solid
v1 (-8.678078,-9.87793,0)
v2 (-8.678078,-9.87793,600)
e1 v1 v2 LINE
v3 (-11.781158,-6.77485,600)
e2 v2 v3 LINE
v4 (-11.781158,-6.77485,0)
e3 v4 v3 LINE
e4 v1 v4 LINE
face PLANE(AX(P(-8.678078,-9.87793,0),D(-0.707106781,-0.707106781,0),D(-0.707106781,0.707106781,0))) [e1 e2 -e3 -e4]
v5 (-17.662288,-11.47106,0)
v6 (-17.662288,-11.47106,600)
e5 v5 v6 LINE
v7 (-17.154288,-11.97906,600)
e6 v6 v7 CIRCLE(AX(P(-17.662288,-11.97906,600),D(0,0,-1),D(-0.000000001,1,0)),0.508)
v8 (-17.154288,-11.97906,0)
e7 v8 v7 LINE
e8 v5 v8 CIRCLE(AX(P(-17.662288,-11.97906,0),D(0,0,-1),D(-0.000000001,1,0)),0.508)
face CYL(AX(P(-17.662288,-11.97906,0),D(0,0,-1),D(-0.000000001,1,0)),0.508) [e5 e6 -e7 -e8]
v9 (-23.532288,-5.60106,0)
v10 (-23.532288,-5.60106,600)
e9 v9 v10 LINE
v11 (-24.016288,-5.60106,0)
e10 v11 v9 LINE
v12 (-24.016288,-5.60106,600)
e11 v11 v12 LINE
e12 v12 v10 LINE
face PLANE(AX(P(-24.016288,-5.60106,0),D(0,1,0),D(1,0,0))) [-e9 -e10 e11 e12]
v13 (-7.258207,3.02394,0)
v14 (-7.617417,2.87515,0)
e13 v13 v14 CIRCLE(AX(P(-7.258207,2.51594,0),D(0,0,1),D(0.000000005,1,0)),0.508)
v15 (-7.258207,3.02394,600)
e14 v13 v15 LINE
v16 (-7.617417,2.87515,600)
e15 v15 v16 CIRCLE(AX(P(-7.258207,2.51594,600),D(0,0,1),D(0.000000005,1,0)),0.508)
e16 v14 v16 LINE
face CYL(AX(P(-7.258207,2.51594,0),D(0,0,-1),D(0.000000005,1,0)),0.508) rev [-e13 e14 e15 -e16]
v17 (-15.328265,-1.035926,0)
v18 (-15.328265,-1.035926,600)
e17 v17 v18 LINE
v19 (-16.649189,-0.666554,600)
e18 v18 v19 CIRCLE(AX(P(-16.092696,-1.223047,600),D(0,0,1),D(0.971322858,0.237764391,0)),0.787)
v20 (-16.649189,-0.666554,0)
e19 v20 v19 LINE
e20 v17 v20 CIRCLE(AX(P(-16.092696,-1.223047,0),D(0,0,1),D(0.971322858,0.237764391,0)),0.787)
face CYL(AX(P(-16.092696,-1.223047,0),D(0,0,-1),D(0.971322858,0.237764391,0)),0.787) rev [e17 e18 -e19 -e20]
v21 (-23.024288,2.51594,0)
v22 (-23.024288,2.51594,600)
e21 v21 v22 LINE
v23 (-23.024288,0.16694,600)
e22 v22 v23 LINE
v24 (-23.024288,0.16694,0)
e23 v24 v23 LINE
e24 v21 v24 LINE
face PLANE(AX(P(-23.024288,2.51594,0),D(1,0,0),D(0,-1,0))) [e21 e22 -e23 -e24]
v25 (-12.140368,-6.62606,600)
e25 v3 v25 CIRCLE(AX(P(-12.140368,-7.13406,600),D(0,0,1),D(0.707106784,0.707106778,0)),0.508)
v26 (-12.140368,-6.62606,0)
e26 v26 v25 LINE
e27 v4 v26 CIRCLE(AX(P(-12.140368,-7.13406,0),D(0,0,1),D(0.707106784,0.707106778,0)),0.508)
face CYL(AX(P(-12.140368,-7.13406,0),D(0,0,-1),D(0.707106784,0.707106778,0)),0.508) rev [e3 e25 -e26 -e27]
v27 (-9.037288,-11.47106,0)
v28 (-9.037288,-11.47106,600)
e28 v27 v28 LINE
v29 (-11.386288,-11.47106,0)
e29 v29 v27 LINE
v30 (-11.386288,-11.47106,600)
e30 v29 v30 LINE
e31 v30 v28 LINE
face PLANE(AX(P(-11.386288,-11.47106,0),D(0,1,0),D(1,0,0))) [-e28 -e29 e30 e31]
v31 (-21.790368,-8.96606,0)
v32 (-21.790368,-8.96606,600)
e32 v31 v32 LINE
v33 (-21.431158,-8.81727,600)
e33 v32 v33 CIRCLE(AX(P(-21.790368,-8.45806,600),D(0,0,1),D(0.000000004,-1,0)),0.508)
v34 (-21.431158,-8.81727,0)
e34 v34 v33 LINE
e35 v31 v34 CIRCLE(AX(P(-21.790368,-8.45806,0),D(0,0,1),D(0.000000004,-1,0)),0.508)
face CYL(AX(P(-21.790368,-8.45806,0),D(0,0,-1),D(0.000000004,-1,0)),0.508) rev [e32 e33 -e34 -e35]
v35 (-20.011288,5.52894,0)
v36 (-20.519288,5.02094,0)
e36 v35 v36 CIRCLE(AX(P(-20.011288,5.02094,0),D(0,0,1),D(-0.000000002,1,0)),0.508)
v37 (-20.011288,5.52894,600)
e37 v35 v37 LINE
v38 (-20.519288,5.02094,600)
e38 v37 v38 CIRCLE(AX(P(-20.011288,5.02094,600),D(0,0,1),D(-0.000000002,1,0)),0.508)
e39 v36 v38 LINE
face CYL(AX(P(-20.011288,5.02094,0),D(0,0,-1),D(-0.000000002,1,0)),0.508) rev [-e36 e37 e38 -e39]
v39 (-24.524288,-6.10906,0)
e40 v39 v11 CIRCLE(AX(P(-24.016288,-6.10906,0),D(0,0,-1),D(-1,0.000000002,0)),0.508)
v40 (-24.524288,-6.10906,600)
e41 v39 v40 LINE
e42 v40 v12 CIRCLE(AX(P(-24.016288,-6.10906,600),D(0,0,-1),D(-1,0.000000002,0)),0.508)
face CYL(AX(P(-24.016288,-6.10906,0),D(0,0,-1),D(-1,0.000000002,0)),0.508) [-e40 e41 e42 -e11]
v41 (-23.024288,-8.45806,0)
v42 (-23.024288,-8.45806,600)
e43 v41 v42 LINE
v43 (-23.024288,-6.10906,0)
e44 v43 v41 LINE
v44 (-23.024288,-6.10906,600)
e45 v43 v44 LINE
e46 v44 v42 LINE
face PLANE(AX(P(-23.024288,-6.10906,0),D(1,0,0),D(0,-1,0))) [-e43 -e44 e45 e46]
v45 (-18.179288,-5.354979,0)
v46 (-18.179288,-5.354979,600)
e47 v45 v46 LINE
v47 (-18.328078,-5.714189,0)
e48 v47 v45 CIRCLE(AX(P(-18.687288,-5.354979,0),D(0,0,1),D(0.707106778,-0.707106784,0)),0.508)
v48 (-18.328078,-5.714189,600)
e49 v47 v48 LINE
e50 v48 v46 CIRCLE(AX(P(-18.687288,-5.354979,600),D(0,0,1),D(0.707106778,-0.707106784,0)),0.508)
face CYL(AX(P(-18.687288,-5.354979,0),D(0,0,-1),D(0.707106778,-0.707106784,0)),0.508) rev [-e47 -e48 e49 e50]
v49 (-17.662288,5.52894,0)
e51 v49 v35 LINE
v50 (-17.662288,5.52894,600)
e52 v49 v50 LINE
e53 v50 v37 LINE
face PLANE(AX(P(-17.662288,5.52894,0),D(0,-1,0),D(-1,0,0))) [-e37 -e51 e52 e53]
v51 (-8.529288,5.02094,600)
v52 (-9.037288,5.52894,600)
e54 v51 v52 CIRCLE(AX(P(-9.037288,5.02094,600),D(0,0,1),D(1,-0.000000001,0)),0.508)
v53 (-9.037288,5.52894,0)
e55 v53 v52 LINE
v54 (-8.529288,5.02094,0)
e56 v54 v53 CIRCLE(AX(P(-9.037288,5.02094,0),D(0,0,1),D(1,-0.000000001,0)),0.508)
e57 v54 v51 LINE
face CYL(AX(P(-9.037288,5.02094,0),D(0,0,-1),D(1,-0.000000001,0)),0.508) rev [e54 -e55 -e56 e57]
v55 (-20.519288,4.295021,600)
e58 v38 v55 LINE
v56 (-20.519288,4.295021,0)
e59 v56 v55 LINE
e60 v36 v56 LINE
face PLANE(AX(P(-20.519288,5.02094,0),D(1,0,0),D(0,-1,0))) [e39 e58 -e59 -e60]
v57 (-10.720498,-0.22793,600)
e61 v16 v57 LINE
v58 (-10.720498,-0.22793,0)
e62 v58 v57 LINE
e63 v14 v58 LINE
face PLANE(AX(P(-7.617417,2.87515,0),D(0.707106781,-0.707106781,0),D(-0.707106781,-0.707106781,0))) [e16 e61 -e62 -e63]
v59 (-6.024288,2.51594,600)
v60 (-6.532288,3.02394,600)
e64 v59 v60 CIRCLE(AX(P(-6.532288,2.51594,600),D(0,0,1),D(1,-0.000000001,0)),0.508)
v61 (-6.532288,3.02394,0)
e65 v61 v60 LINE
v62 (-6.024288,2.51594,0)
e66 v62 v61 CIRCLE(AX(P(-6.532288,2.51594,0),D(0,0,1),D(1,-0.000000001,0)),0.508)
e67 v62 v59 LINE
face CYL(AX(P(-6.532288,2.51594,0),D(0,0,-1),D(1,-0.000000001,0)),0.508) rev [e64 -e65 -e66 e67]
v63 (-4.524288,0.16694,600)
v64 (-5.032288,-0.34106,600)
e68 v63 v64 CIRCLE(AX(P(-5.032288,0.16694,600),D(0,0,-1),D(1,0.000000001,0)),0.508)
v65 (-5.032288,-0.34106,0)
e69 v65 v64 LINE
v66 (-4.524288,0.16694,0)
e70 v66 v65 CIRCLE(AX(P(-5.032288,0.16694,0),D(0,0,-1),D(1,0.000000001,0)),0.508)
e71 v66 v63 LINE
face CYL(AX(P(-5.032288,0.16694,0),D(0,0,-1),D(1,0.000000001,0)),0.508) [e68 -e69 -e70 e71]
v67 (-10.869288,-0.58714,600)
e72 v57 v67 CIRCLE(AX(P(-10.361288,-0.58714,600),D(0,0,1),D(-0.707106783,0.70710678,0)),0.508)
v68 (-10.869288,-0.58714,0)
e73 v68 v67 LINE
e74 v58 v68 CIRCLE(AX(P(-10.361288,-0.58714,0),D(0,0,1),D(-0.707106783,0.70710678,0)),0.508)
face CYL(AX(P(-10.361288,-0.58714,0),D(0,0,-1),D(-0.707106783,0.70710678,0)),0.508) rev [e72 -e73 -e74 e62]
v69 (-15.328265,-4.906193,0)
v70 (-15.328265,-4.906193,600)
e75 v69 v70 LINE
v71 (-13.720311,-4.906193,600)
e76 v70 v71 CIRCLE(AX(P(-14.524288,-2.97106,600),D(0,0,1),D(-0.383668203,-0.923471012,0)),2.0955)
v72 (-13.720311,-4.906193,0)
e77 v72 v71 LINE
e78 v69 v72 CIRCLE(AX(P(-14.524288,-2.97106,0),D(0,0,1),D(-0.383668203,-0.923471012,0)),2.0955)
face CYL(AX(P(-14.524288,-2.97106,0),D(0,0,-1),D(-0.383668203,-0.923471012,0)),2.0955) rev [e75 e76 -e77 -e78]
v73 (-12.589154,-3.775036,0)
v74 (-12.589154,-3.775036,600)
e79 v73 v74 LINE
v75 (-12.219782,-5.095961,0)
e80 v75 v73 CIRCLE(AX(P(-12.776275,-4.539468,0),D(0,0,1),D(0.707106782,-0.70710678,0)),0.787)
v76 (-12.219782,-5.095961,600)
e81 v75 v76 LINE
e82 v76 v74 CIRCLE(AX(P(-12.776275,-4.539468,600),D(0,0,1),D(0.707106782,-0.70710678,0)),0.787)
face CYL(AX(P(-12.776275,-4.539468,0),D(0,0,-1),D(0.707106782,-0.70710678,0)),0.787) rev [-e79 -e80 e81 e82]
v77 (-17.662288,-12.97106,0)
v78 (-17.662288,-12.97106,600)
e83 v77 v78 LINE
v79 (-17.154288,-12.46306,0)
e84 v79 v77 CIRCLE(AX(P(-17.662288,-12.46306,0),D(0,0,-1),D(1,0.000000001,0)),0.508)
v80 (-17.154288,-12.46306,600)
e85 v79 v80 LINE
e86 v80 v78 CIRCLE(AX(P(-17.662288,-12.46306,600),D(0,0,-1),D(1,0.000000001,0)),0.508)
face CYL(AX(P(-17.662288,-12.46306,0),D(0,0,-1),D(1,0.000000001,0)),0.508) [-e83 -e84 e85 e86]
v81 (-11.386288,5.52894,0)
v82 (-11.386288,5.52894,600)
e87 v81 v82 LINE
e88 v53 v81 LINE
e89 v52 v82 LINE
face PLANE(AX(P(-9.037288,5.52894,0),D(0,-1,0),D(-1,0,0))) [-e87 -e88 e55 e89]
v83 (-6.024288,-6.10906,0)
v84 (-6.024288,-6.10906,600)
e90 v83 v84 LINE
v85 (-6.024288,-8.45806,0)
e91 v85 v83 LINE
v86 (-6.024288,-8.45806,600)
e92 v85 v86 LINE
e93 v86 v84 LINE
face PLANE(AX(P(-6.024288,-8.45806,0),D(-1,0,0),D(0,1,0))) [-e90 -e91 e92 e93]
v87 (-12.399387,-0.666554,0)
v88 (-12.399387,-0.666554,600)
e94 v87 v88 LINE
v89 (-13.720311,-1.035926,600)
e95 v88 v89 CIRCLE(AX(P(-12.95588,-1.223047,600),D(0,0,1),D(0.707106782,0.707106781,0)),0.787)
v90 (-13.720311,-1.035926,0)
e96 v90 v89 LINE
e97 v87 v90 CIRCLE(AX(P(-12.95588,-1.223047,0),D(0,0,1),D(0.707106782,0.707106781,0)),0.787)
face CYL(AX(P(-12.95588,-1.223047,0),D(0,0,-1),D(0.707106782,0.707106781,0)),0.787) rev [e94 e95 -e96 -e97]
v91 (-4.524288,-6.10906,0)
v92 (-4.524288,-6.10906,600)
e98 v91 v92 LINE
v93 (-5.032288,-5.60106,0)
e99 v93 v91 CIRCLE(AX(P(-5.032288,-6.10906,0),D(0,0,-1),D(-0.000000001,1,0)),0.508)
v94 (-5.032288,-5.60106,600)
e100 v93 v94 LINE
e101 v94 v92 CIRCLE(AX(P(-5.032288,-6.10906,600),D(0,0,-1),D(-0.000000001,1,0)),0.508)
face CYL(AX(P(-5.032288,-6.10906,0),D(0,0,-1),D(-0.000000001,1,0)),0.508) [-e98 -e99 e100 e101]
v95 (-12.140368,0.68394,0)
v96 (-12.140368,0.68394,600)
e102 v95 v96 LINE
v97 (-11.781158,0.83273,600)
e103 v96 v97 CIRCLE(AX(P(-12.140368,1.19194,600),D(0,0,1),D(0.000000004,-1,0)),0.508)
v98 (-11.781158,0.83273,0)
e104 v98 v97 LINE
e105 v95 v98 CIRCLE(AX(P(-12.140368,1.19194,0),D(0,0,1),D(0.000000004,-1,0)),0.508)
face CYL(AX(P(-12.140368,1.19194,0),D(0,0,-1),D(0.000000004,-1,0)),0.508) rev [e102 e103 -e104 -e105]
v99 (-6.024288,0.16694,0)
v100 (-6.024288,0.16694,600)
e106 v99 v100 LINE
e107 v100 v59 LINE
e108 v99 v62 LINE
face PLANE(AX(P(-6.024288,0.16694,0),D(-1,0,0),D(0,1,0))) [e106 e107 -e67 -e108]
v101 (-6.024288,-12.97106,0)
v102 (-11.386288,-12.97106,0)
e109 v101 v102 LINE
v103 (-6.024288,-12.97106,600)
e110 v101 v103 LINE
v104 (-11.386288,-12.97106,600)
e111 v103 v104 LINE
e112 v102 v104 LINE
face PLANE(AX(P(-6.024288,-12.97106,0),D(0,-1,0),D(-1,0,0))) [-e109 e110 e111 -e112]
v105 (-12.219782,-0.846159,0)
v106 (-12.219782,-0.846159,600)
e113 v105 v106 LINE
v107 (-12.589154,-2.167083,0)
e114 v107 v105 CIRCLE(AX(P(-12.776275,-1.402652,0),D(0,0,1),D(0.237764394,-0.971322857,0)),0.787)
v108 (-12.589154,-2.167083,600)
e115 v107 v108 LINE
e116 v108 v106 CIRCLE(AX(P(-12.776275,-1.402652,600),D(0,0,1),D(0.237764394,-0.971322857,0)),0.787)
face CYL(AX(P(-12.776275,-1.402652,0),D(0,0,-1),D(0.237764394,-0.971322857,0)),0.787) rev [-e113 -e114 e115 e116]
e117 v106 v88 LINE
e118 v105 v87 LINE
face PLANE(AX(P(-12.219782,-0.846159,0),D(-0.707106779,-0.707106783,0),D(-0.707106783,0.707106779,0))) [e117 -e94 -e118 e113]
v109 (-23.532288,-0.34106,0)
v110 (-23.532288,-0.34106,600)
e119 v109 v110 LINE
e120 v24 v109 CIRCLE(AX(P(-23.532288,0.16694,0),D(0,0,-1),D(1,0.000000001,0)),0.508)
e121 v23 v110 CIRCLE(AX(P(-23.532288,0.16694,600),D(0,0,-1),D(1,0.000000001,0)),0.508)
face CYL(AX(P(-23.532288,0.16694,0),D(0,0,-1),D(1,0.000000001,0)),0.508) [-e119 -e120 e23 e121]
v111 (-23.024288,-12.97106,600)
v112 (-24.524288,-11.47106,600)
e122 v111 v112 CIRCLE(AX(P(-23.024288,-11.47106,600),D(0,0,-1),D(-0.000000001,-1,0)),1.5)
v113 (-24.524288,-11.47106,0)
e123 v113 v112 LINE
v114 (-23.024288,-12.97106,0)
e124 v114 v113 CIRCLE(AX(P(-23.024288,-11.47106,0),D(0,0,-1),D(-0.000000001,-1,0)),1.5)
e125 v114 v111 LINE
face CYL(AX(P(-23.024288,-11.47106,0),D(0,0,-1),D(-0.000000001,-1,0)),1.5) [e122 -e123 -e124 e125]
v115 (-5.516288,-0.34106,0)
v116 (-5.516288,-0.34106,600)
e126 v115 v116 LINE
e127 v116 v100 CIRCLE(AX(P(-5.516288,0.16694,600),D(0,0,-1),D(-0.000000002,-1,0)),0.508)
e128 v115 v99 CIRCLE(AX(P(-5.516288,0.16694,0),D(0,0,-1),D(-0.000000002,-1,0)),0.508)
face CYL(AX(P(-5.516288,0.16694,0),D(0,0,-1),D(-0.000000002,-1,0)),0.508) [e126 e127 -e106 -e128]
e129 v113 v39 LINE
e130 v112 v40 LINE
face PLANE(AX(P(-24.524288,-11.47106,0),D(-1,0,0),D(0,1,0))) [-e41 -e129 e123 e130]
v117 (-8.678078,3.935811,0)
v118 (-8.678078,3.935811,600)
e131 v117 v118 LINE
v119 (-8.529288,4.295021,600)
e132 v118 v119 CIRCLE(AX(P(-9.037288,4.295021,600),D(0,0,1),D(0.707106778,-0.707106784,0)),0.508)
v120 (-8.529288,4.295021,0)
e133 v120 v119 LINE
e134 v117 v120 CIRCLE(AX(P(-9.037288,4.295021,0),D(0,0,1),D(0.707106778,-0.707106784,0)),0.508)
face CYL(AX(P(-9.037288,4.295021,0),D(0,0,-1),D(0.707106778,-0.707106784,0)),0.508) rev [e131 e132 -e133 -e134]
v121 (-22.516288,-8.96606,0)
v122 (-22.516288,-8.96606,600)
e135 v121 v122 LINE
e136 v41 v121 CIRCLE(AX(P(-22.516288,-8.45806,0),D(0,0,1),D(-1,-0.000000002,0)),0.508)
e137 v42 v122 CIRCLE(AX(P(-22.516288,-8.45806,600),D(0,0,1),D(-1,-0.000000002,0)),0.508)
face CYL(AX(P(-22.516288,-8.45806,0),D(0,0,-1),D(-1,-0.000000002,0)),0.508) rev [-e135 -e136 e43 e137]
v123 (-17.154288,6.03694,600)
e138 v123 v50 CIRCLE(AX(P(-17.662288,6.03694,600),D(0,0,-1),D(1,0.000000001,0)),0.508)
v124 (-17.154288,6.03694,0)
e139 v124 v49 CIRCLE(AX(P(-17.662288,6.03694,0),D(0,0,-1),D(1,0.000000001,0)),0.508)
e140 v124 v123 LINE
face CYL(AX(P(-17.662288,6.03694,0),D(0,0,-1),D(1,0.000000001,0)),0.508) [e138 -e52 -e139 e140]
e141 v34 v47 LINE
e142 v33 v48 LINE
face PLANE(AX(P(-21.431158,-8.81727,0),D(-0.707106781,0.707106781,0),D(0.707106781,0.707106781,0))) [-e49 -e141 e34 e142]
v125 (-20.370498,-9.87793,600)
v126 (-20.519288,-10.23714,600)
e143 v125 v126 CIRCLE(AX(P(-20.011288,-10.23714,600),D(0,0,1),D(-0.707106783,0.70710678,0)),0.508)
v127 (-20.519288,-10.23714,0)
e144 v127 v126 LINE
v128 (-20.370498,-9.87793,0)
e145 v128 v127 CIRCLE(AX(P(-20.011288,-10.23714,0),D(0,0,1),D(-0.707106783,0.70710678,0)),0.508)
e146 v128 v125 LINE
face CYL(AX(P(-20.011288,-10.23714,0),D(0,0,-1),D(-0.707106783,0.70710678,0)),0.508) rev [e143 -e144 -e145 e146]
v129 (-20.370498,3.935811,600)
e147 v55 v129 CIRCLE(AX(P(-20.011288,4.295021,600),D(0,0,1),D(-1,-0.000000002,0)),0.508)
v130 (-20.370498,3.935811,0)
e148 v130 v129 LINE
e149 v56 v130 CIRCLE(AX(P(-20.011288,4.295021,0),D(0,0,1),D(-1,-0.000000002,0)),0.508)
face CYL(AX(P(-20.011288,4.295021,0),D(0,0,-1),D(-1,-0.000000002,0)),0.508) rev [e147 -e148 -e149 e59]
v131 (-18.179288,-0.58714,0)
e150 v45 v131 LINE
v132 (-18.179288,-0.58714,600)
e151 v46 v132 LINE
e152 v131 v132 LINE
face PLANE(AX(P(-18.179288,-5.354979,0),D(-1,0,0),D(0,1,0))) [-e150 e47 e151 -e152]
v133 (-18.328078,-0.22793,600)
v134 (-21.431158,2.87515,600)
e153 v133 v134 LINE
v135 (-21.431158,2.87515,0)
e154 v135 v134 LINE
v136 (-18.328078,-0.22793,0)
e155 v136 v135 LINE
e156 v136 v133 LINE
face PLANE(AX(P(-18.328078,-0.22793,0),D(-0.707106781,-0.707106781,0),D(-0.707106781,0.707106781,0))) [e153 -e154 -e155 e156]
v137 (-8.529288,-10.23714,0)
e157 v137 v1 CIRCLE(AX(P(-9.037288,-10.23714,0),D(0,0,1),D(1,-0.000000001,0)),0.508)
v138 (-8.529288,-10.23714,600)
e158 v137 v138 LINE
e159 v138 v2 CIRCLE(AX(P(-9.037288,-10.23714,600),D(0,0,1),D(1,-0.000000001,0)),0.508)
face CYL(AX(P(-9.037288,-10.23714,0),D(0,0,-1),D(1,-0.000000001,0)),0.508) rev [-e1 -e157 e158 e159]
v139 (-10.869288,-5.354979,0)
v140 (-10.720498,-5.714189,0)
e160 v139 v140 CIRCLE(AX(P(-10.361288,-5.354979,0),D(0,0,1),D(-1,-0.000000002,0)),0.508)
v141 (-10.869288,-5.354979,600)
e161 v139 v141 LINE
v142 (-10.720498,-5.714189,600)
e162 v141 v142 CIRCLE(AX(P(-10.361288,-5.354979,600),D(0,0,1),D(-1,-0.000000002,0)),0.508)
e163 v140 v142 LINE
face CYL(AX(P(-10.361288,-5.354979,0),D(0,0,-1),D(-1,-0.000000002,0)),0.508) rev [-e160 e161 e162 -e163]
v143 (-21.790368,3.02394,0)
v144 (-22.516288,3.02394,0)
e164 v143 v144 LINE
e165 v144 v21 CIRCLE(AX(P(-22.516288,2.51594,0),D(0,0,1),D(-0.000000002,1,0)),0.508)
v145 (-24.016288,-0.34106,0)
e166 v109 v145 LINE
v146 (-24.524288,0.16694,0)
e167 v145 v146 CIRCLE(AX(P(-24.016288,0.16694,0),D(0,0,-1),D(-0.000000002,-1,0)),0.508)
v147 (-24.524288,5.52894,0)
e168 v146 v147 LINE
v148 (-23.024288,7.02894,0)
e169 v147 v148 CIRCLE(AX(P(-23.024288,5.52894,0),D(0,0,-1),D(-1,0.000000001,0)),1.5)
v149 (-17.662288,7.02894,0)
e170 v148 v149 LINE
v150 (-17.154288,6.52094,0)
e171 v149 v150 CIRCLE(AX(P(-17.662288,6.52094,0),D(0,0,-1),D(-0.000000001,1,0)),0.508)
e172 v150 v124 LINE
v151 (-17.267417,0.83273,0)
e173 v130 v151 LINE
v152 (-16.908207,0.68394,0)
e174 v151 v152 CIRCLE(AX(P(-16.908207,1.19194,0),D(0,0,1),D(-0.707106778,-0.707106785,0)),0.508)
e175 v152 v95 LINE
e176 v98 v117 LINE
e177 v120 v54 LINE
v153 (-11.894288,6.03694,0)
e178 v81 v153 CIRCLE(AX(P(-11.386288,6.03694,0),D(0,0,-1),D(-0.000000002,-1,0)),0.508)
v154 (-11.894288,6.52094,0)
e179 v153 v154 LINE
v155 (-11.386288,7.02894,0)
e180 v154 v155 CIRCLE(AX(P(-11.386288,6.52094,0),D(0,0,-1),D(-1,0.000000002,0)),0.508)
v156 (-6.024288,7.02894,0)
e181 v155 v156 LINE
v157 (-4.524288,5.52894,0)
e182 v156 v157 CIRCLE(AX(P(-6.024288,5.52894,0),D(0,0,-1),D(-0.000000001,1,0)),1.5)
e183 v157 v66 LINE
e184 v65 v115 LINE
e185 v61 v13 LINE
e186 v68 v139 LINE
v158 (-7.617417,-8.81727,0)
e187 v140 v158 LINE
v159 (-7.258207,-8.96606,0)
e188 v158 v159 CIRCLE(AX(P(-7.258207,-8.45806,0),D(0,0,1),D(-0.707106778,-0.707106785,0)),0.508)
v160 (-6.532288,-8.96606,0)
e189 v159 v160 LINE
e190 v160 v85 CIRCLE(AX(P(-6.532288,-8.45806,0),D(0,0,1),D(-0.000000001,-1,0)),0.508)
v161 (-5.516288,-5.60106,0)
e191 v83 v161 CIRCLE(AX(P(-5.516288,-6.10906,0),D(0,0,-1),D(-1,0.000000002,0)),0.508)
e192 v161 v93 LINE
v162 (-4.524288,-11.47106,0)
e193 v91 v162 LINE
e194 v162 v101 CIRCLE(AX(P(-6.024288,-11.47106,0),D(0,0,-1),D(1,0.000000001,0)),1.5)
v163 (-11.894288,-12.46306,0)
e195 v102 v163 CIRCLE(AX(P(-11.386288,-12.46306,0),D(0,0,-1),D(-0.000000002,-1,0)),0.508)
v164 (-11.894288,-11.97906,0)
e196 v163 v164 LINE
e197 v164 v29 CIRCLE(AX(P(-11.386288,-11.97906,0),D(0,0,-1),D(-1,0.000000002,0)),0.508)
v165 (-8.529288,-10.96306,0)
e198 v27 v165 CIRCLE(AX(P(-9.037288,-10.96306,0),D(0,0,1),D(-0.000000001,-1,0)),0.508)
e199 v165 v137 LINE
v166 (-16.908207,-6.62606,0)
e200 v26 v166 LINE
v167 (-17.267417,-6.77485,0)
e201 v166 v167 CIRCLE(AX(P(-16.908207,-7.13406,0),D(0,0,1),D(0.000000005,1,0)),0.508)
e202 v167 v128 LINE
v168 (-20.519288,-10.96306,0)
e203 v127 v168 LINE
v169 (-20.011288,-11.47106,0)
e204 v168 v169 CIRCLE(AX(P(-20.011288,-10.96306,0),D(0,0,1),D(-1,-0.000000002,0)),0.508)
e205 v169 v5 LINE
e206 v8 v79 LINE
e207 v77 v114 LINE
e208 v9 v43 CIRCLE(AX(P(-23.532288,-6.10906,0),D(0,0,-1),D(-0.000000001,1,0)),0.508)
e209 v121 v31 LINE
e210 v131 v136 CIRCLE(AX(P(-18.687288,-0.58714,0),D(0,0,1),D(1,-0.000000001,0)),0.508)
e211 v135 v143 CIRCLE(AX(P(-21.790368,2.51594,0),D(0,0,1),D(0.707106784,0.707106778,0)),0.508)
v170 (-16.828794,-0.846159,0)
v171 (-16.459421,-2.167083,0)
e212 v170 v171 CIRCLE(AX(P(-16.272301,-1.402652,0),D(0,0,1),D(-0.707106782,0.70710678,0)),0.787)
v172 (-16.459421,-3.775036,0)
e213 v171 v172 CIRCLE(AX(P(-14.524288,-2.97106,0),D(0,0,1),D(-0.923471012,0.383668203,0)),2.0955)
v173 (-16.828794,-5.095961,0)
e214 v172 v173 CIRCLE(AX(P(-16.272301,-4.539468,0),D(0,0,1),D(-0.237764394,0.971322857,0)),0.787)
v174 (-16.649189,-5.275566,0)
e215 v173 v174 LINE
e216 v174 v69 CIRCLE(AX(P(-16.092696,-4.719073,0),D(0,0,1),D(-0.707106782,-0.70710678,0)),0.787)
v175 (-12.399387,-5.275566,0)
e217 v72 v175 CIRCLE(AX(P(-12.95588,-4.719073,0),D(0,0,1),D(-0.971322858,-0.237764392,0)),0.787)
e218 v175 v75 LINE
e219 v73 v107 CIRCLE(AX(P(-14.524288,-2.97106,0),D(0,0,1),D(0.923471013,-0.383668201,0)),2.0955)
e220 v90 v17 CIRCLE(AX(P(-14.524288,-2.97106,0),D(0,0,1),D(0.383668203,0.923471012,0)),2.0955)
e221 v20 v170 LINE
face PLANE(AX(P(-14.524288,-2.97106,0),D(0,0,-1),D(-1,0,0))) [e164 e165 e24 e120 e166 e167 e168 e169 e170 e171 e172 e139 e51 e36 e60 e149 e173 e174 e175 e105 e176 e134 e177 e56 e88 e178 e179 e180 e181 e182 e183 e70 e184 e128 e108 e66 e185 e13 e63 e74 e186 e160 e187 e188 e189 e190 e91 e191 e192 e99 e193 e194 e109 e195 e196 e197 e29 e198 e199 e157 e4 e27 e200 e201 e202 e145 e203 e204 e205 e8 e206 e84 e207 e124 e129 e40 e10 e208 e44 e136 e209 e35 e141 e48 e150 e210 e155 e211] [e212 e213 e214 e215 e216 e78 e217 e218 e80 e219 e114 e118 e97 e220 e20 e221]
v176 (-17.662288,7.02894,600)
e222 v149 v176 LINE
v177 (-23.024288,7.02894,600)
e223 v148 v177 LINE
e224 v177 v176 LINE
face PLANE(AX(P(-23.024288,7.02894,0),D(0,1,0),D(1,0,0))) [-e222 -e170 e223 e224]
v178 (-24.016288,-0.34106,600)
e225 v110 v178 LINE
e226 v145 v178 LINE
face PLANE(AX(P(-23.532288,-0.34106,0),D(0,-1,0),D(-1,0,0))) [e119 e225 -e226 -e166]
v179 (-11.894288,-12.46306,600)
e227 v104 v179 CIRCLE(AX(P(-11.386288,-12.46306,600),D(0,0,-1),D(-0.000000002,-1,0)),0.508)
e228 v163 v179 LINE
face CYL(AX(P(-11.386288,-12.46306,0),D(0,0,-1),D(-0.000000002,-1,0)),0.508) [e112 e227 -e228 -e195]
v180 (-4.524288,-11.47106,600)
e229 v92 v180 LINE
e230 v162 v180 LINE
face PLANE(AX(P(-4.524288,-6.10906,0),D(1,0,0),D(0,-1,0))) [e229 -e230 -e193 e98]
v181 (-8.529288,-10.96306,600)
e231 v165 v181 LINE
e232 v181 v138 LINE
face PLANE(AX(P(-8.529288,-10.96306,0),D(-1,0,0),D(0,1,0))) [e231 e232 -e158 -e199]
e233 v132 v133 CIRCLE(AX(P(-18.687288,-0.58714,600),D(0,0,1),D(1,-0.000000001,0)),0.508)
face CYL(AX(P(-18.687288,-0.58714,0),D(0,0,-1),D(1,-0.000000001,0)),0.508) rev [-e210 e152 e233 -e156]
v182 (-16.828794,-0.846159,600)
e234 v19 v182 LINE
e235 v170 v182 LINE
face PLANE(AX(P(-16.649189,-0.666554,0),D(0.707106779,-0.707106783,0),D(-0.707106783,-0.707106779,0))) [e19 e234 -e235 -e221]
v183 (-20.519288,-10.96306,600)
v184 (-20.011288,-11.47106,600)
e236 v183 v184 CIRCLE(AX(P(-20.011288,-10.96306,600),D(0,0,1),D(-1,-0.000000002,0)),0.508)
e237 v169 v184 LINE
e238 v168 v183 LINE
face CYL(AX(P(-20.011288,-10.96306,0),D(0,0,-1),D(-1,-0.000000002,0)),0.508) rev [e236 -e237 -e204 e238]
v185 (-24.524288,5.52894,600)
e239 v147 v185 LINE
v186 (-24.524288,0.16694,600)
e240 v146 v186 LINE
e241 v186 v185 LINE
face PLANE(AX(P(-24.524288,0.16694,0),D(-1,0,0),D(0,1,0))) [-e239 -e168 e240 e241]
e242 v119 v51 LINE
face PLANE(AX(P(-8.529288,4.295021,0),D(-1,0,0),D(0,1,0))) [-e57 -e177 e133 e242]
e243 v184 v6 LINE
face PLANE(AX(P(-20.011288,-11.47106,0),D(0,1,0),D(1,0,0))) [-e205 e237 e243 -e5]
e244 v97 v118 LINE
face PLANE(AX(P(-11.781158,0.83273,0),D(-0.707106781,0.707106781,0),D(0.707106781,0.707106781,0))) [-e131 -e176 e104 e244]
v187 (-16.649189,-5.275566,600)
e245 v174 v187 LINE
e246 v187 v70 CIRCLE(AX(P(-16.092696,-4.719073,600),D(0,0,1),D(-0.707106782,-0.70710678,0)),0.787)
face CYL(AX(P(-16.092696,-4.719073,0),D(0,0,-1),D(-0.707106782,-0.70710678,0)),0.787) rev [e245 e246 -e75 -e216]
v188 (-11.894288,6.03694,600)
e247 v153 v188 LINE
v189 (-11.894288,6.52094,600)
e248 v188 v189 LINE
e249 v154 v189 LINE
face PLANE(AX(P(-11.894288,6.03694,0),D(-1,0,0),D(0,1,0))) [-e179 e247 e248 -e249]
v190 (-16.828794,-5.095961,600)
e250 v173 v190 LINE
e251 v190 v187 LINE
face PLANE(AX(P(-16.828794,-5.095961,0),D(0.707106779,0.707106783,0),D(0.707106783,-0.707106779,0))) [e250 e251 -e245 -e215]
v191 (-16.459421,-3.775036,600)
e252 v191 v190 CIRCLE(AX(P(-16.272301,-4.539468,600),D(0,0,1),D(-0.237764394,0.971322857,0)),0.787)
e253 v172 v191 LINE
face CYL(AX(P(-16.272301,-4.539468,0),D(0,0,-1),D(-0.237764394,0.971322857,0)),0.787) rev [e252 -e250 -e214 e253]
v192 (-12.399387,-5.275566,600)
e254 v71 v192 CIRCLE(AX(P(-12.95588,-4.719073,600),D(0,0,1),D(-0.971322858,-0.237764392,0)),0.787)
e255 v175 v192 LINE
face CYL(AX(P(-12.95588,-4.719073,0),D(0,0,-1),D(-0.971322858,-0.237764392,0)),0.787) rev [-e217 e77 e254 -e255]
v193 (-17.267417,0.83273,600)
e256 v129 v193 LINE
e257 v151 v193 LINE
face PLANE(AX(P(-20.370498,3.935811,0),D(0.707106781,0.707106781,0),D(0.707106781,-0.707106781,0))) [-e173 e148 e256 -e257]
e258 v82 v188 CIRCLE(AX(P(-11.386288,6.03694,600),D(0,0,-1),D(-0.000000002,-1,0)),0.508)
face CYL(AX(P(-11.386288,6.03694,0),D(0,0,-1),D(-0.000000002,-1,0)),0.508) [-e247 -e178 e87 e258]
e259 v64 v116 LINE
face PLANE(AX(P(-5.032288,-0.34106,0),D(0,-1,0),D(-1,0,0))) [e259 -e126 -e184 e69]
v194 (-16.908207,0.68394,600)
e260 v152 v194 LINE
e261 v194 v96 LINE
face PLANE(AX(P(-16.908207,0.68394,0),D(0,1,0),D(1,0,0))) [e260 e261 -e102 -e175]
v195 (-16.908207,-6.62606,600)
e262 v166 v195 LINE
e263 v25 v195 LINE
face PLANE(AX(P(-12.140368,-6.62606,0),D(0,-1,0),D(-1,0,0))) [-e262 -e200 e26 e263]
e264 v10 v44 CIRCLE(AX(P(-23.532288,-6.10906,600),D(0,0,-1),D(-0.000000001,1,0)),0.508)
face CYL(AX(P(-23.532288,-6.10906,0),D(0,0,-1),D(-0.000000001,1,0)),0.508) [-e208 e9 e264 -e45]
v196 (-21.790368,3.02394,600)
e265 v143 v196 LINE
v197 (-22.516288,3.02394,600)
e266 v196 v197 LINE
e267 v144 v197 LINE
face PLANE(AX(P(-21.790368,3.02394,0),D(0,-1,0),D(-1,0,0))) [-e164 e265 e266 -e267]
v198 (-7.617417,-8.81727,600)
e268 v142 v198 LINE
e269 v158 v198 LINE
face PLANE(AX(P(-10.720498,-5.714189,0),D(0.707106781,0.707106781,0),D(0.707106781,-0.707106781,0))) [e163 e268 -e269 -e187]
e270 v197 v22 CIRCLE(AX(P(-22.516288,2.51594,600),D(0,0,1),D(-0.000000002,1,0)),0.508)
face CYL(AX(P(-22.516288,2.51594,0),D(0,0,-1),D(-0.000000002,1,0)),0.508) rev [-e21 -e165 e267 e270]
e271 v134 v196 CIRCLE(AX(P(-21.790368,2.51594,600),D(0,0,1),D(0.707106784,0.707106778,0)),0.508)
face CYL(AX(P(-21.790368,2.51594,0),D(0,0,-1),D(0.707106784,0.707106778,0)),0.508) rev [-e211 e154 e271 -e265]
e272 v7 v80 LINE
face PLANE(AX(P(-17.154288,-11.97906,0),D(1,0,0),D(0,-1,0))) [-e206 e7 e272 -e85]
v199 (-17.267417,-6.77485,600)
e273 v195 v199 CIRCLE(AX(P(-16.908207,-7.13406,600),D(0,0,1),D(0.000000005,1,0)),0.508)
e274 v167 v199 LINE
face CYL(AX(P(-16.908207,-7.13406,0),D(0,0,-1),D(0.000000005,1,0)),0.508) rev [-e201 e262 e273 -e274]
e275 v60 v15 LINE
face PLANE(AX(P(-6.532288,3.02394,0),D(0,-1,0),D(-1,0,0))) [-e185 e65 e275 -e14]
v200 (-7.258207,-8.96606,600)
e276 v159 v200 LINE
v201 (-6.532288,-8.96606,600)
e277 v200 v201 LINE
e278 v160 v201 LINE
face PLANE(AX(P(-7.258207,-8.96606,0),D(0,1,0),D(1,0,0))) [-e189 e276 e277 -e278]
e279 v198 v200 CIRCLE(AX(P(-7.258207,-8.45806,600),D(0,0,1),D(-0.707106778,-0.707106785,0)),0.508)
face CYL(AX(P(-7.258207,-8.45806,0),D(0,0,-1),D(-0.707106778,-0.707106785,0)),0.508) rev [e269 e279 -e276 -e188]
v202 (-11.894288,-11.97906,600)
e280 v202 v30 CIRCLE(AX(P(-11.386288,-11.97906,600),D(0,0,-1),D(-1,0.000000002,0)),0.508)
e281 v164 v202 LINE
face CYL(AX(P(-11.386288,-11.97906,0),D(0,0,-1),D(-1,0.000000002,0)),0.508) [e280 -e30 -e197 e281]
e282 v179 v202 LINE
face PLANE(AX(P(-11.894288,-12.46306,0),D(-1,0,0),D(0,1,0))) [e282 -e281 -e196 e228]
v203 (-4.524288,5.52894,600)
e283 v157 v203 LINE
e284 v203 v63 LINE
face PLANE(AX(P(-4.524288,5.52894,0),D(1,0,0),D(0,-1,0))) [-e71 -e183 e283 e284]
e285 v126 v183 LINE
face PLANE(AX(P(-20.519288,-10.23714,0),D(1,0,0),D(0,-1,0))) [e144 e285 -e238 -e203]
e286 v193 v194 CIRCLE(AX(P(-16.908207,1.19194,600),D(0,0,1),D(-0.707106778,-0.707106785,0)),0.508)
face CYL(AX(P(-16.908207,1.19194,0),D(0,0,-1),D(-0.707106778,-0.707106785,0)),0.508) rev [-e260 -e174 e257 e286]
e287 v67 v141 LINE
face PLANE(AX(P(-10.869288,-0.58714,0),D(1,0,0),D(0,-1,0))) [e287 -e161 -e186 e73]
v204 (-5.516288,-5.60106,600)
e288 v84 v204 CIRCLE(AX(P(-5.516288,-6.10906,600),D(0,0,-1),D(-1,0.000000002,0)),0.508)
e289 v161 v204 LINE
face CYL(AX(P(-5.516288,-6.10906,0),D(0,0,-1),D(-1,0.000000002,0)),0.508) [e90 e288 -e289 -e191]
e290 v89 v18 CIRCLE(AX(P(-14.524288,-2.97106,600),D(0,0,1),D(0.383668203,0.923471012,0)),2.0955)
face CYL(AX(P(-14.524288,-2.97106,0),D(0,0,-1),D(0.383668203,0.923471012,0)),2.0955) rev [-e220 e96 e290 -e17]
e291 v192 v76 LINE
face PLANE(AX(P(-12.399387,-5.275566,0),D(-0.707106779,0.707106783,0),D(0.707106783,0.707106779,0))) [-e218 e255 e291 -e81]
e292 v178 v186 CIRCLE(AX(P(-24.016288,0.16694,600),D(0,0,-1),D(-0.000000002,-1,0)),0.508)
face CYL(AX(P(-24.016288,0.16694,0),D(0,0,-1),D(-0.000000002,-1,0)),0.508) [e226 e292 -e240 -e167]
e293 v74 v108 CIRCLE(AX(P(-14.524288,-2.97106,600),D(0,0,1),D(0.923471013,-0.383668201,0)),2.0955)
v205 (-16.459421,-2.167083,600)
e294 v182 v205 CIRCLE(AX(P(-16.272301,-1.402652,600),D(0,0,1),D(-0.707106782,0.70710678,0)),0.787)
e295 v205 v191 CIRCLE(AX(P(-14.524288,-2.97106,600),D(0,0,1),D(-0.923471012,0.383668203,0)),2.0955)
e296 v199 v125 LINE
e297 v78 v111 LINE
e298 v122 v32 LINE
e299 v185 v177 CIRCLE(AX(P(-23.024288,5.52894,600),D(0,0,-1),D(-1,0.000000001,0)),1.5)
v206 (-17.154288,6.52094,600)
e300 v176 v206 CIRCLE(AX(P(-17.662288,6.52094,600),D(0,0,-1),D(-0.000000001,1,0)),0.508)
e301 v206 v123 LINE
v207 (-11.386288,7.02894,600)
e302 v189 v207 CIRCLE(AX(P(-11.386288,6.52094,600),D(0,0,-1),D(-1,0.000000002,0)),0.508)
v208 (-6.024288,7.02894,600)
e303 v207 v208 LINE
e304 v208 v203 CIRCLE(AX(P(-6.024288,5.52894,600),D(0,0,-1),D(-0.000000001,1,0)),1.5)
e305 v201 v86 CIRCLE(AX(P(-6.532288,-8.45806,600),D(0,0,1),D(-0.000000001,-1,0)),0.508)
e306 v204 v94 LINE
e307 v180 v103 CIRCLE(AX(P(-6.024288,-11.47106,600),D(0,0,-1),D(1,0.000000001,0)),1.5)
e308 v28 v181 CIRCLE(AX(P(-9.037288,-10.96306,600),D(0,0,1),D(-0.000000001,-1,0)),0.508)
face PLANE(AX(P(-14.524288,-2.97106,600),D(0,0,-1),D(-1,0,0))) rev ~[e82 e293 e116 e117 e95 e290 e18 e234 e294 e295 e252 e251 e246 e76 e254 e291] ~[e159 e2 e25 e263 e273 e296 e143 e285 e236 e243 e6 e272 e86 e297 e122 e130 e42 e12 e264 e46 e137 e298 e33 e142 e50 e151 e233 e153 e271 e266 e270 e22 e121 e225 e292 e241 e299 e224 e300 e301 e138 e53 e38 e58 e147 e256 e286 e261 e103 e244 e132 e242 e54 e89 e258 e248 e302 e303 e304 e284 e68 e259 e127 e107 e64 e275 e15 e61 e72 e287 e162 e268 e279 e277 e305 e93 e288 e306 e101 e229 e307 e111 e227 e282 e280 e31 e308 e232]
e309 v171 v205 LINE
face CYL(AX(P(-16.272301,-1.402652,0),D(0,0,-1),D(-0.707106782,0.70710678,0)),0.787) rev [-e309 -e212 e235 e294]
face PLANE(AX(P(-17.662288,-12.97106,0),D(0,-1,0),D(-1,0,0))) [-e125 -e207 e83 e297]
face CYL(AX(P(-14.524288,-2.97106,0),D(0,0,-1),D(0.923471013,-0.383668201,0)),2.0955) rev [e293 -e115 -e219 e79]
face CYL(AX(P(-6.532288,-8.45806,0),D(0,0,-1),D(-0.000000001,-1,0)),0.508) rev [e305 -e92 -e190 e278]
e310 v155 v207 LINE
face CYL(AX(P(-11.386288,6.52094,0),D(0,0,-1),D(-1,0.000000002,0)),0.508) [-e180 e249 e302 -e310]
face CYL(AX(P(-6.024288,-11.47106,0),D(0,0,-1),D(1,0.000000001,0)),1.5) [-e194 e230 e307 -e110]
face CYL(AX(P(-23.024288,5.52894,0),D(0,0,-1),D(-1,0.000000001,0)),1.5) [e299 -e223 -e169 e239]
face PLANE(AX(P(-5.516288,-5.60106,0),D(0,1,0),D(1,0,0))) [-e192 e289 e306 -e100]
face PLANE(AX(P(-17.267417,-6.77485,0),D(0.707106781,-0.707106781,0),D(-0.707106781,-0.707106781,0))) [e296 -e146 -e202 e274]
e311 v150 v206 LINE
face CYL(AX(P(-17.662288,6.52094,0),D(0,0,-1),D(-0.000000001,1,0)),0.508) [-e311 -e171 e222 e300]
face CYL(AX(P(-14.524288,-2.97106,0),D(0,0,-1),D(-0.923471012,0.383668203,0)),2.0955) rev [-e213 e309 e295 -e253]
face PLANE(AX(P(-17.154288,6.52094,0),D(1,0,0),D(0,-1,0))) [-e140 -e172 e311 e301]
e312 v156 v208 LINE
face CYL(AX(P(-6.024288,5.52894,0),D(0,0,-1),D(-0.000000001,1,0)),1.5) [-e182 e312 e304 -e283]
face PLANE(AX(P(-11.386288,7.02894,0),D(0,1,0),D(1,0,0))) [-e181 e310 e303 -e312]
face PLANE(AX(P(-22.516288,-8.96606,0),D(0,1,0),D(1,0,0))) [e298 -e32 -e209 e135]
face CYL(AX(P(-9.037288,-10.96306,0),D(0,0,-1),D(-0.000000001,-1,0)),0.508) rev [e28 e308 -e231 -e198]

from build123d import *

# Parameters (mm, degrees)
EXTRUDE1_DEPTH = 600


with BuildPart() as part:
    # Sketch1 → Extrude1 (new body)
    with BuildSketch(Plane.XY):
        with BuildLine():
            Line((-5.032287798, -0.341059771), (-5.516287798, -0.341059771))
            ThreePointArc((-5.516287798, -0.341059771), (-5.875498042, -0.192270016), (-6.024287798, 0.166940229))
            Line((-6.024287798, 0.166940229), (-6.024287798, 2.515940229))
            ThreePointArc((-6.024287798, 2.515940229), (-6.173077553, 2.875150474), (-6.532287798, 3.023940229))
            Line((-6.532287798, 3.023940229), (-7.258207136, 3.023940229))
            ThreePointArc((-7.258207136, 3.023940229), (-7.45261032, 2.985271032), (-7.617417381, 2.875150474))
            Line((-7.617417381, 2.875150474), (-10.720498042, -0.227930187))
            ThreePointArc((-10.720498042, -0.227930187), (-10.8306186, -0.392737249), (-10.869287798, -0.587140432))
            Line((-10.869287798, -0.587140432), (-10.869287798, -5.354979109))
            ThreePointArc((-10.869287798, -5.354979109), (-10.8306186, -5.549382293), (-10.720498042, -5.714189354))
            Line((-10.720498042, -5.714189354), (-7.617417381, -8.817270016))
            ThreePointArc((-7.617417381, -8.817270016), (-7.45261032, -8.927390573), (-7.258207136, -8.966059771))
            Line((-7.258207136, -8.966059771), (-6.532287798, -8.966059771))
            ThreePointArc((-6.532287798, -8.966059771), (-6.173077553, -8.817270016), (-6.024287798, -8.458059771))
            Line((-6.024287798, -8.458059771), (-6.024287798, -6.109059771))
            ThreePointArc((-6.024287798, -6.109059771), (-5.875498042, -5.749849526), (-5.516287798, -5.601059771))
            Line((-5.516287798, -5.601059771), (-5.032287798, -5.601059771))
            ThreePointArc((-5.032287798, -5.601059771), (-4.673077553, -5.749849526), (-4.524287798, -6.109059771))
            Line((-4.524287798, -6.109059771), (-4.524287798, -11.471059771))
            ThreePointArc((-4.524287798, -11.471059771), (-4.963627626, -12.531719943), (-6.024287798, -12.971059771))
            Line((-6.024287798, -12.971059771), (-11.386287798, -12.971059771))
            ThreePointArc((-11.386287798, -12.971059771), (-11.745498042, -12.822270016), (-11.894287798, -12.463059771))
            Line((-11.894287798, -12.463059771), (-11.894287798, -11.979059771))
            ThreePointArc((-11.894287798, -11.979059771), (-11.745498042, -11.619849526), (-11.386287798, -11.471059771))
            Line((-11.386287798, -11.471059771), (-9.037287798, -11.471059771))
            ThreePointArc((-9.037287798, -11.471059771), (-8.678077553, -11.322270016), (-8.529287798, -10.963059771))
            Line((-8.529287798, -10.963059771), (-8.529287798, -10.237140432))
            ThreePointArc((-8.529287798, -10.237140432), (-8.567956995, -10.042737249), (-8.678077553, -9.877930187))
            Line((-8.678077553, -9.877930187), (-11.781158214, -6.774849526))
            ThreePointArc((-11.781158214, -6.774849526), (-11.945965275, -6.664728968), (-12.140368459, -6.626059771))
            Line((-12.140368459, -6.626059771), (-16.908207136, -6.626059771))
            ThreePointArc((-16.908207136, -6.626059771), (-17.10261032, -6.664728968), (-17.267417381, -6.774849526))
            Line((-17.267417381, -6.774849526), (-20.370498042, -9.877930187))
            ThreePointArc((-20.370498042, -9.877930187), (-20.4806186, -10.042737249), (-20.519287798, -10.237140432))
            Line((-20.519287798, -10.237140432), (-20.519287798, -10.963059771))
            ThreePointArc((-20.519287798, -10.963059771), (-20.370498042, -11.322270016), (-20.011287798, -11.471059771))
            Line((-20.011287798, -11.471059771), (-17.662287798, -11.471059771))
            ThreePointArc((-17.662287798, -11.471059771), (-17.303077553, -11.619849526), (-17.154287798, -11.979059771))
            Line((-17.154287798, -11.979059771), (-17.154287798, -12.463059771))
            ThreePointArc((-17.154287798, -12.463059771), (-17.303077553, -12.822270016), (-17.662287798, -12.971059771))
            Line((-17.662287798, -12.971059771), (-23.024287798, -12.971059771))
            ThreePointArc((-23.024287798, -12.971059771), (-24.084947969, -12.531719943), (-24.524287798, -11.471059771))
            Line((-24.524287798, -11.471059771), (-24.524287798, -6.109059771))
            ThreePointArc((-24.524287798, -6.109059771), (-24.375498042, -5.749849526), (-24.016287798, -5.601059771))
            Line((-24.016287798, -5.601059771), (-23.532287798, -5.601059771))
            ThreePointArc((-23.532287798, -5.601059771), (-23.173077553, -5.749849526), (-23.024287798, -6.109059771))
            Line((-23.024287798, -6.109059771), (-23.024287798, -8.458059771))
            ThreePointArc((-23.024287798, -8.458059771), (-22.875498042, -8.817270016), (-22.516287798, -8.966059771))
            Line((-22.516287798, -8.966059771), (-21.790368459, -8.966059771))
            ThreePointArc((-21.790368459, -8.966059771), (-21.595965275, -8.927390573), (-21.431158214, -8.817270016))
            Line((-21.431158214, -8.817270016), (-18.328077553, -5.714189354))
            ThreePointArc((-18.328077553, -5.714189354), (-18.217956995, -5.549382293), (-18.179287798, -5.354979109))
            Line((-18.179287798, -5.354979109), (-18.179287798, -0.587140432))
            ThreePointArc((-18.179287798, -0.587140432), (-18.217956995, -0.392737249), (-18.328077553, -0.227930187))
            Line((-18.328077553, -0.227930187), (-21.431158214, 2.875150474))
            ThreePointArc((-21.431158214, 2.875150474), (-21.595965275, 2.985271032), (-21.790368459, 3.023940229))
            Line((-21.790368459, 3.023940229), (-22.516287798, 3.023940229))
            ThreePointArc((-22.516287798, 3.023940229), (-22.875498042, 2.875150474), (-23.024287798, 2.515940229))
            Line((-23.024287798, 2.515940229), (-23.024287798, 0.166940229))
            ThreePointArc((-23.024287798, 0.166940229), (-23.173077553, -0.192270016), (-23.532287798, -0.341059771))
            Line((-23.532287798, -0.341059771), (-24.016287798, -0.341059771))
            ThreePointArc((-24.016287798, -0.341059771), (-24.375498042, -0.192270016), (-24.524287798, 0.166940229))
            Line((-24.524287798, 0.166940229), (-24.524287798, 5.528940229))
            ThreePointArc((-24.524287798, 5.528940229), (-24.084947969, 6.589600401), (-23.024287798, 7.028940229))
            Line((-23.024287798, 7.028940229), (-17.662287798, 7.028940229))
            ThreePointArc((-17.662287798, 7.028940229), (-17.303077553, 6.880150474), (-17.154287798, 6.520940229))
            Line((-17.154287798, 6.520940229), (-17.154287798, 6.036940229))
            ThreePointArc((-17.154287798, 6.036940229), (-17.303077553, 5.677729984), (-17.662287798, 5.528940229))
            Line((-17.662287798, 5.528940229), (-20.011287798, 5.528940229))
            ThreePointArc((-20.011287798, 5.528940229), (-20.370498042, 5.380150474), (-20.519287798, 5.020940229))
            Line((-20.519287798, 5.020940229), (-20.519287798, 4.295020891))
            ThreePointArc((-20.519287798, 4.295020891), (-20.4806186, 4.100617707), (-20.370498042, 3.935810646))
            Line((-20.370498042, 3.935810646), (-17.267417381, 0.832729984))
            ThreePointArc((-17.267417381, 0.832729984), (-17.10261032, 0.722609427), (-16.908207136, 0.683940229))
            Line((-16.908207136, 0.683940229), (-12.140368459, 0.683940229))
            ThreePointArc((-12.140368459, 0.683940229), (-11.945965275, 0.722609427), (-11.781158214, 0.832729984))
            Line((-11.781158214, 0.832729984), (-8.678077553, 3.935810646))
            ThreePointArc((-8.678077553, 3.935810646), (-8.567956995, 4.100617707), (-8.529287798, 4.295020891))
            Line((-8.529287798, 4.295020891), (-8.529287798, 5.020940229))
            ThreePointArc((-8.529287798, 5.020940229), (-8.678077553, 5.380150474), (-9.037287798, 5.528940229))
            Line((-9.037287798, 5.528940229), (-11.386287798, 5.528940229))
            ThreePointArc((-11.386287798, 5.528940229), (-11.745498042, 5.677729984), (-11.894287798, 6.036940229))
            Line((-11.894287798, 6.036940229), (-11.894287798, 6.520940229))
            ThreePointArc((-11.894287798, 6.520940229), (-11.745498042, 6.880150474), (-11.386287798, 7.028940229))
            Line((-11.386287798, 7.028940229), (-6.024287798, 7.028940229))
            ThreePointArc((-6.024287798, 7.028940229), (-4.963627626, 6.589600401), (-4.524287798, 5.528940229))
            Line((-4.524287798, 5.528940229), (-4.524287798, 0.166940229))
            ThreePointArc((-4.524287798, 0.166940229), (-4.673077553, -0.192270016), (-5.032287798, -0.341059771))
        make_face()
        with BuildLine():
            Line((-12.399386954, -5.275565737), (-12.219781831, -5.095960615))
            ThreePointArc((-12.219781831, -5.095960615), (-12.018349781, -4.327527582), (-12.589154291, -3.775036489))
            ThreePointArc((-12.589154291, -3.775036489), (-12.428787798, -2.971059771), (-12.589154291, -2.167083053))
            ThreePointArc((-12.589154291, -2.167083053), (-12.018349781, -1.61459196), (-12.219781831, -0.846158927))
            Line((-12.219781831, -0.846158927), (-12.399386954, -0.666553805))
            ThreePointArc((-12.399386954, -0.666553805), (-13.167819987, -0.465121754), (-13.72031108, -1.035926265))
            ThreePointArc((-13.72031108, -1.035926265), (-14.524287798, -0.875559771), (-15.328264516, -1.035926265))
            ThreePointArc((-15.328264516, -1.035926265), (-15.880755608, -0.465121754), (-16.649188641, -0.666553805))
            Line((-16.649188641, -0.666553805), (-16.828793764, -0.846158927))
            ThreePointArc((-16.828793764, -0.846158927), (-17.030225814, -1.61459196), (-16.459421304, -2.167083053))
            ThreePointArc((-16.459421304, -2.167083053), (-16.619787798, -2.971059771), (-16.459421304, -3.775036489))
            ThreePointArc((-16.459421304, -3.775036489), (-17.030225814, -4.327527582), (-16.828793764, -5.095960615))
            Line((-16.828793764, -5.095960615), (-16.649188641, -5.275565737))
            ThreePointArc((-16.649188641, -5.275565737), (-15.880755608, -5.476997788), (-15.328264516, -4.906193277))
            ThreePointArc((-15.328264516, -4.906193277), (-14.524287798, -5.066559771), (-13.72031108, -4.906193277))
            ThreePointArc((-13.72031108, -4.906193277), (-13.167819987, -5.476997788), (-12.399386954, -5.275565737))
        make_face(mode=Mode.SUBTRACT)
    extrude(amount=EXTRUDE1_DEPTH)


solid = part.part
